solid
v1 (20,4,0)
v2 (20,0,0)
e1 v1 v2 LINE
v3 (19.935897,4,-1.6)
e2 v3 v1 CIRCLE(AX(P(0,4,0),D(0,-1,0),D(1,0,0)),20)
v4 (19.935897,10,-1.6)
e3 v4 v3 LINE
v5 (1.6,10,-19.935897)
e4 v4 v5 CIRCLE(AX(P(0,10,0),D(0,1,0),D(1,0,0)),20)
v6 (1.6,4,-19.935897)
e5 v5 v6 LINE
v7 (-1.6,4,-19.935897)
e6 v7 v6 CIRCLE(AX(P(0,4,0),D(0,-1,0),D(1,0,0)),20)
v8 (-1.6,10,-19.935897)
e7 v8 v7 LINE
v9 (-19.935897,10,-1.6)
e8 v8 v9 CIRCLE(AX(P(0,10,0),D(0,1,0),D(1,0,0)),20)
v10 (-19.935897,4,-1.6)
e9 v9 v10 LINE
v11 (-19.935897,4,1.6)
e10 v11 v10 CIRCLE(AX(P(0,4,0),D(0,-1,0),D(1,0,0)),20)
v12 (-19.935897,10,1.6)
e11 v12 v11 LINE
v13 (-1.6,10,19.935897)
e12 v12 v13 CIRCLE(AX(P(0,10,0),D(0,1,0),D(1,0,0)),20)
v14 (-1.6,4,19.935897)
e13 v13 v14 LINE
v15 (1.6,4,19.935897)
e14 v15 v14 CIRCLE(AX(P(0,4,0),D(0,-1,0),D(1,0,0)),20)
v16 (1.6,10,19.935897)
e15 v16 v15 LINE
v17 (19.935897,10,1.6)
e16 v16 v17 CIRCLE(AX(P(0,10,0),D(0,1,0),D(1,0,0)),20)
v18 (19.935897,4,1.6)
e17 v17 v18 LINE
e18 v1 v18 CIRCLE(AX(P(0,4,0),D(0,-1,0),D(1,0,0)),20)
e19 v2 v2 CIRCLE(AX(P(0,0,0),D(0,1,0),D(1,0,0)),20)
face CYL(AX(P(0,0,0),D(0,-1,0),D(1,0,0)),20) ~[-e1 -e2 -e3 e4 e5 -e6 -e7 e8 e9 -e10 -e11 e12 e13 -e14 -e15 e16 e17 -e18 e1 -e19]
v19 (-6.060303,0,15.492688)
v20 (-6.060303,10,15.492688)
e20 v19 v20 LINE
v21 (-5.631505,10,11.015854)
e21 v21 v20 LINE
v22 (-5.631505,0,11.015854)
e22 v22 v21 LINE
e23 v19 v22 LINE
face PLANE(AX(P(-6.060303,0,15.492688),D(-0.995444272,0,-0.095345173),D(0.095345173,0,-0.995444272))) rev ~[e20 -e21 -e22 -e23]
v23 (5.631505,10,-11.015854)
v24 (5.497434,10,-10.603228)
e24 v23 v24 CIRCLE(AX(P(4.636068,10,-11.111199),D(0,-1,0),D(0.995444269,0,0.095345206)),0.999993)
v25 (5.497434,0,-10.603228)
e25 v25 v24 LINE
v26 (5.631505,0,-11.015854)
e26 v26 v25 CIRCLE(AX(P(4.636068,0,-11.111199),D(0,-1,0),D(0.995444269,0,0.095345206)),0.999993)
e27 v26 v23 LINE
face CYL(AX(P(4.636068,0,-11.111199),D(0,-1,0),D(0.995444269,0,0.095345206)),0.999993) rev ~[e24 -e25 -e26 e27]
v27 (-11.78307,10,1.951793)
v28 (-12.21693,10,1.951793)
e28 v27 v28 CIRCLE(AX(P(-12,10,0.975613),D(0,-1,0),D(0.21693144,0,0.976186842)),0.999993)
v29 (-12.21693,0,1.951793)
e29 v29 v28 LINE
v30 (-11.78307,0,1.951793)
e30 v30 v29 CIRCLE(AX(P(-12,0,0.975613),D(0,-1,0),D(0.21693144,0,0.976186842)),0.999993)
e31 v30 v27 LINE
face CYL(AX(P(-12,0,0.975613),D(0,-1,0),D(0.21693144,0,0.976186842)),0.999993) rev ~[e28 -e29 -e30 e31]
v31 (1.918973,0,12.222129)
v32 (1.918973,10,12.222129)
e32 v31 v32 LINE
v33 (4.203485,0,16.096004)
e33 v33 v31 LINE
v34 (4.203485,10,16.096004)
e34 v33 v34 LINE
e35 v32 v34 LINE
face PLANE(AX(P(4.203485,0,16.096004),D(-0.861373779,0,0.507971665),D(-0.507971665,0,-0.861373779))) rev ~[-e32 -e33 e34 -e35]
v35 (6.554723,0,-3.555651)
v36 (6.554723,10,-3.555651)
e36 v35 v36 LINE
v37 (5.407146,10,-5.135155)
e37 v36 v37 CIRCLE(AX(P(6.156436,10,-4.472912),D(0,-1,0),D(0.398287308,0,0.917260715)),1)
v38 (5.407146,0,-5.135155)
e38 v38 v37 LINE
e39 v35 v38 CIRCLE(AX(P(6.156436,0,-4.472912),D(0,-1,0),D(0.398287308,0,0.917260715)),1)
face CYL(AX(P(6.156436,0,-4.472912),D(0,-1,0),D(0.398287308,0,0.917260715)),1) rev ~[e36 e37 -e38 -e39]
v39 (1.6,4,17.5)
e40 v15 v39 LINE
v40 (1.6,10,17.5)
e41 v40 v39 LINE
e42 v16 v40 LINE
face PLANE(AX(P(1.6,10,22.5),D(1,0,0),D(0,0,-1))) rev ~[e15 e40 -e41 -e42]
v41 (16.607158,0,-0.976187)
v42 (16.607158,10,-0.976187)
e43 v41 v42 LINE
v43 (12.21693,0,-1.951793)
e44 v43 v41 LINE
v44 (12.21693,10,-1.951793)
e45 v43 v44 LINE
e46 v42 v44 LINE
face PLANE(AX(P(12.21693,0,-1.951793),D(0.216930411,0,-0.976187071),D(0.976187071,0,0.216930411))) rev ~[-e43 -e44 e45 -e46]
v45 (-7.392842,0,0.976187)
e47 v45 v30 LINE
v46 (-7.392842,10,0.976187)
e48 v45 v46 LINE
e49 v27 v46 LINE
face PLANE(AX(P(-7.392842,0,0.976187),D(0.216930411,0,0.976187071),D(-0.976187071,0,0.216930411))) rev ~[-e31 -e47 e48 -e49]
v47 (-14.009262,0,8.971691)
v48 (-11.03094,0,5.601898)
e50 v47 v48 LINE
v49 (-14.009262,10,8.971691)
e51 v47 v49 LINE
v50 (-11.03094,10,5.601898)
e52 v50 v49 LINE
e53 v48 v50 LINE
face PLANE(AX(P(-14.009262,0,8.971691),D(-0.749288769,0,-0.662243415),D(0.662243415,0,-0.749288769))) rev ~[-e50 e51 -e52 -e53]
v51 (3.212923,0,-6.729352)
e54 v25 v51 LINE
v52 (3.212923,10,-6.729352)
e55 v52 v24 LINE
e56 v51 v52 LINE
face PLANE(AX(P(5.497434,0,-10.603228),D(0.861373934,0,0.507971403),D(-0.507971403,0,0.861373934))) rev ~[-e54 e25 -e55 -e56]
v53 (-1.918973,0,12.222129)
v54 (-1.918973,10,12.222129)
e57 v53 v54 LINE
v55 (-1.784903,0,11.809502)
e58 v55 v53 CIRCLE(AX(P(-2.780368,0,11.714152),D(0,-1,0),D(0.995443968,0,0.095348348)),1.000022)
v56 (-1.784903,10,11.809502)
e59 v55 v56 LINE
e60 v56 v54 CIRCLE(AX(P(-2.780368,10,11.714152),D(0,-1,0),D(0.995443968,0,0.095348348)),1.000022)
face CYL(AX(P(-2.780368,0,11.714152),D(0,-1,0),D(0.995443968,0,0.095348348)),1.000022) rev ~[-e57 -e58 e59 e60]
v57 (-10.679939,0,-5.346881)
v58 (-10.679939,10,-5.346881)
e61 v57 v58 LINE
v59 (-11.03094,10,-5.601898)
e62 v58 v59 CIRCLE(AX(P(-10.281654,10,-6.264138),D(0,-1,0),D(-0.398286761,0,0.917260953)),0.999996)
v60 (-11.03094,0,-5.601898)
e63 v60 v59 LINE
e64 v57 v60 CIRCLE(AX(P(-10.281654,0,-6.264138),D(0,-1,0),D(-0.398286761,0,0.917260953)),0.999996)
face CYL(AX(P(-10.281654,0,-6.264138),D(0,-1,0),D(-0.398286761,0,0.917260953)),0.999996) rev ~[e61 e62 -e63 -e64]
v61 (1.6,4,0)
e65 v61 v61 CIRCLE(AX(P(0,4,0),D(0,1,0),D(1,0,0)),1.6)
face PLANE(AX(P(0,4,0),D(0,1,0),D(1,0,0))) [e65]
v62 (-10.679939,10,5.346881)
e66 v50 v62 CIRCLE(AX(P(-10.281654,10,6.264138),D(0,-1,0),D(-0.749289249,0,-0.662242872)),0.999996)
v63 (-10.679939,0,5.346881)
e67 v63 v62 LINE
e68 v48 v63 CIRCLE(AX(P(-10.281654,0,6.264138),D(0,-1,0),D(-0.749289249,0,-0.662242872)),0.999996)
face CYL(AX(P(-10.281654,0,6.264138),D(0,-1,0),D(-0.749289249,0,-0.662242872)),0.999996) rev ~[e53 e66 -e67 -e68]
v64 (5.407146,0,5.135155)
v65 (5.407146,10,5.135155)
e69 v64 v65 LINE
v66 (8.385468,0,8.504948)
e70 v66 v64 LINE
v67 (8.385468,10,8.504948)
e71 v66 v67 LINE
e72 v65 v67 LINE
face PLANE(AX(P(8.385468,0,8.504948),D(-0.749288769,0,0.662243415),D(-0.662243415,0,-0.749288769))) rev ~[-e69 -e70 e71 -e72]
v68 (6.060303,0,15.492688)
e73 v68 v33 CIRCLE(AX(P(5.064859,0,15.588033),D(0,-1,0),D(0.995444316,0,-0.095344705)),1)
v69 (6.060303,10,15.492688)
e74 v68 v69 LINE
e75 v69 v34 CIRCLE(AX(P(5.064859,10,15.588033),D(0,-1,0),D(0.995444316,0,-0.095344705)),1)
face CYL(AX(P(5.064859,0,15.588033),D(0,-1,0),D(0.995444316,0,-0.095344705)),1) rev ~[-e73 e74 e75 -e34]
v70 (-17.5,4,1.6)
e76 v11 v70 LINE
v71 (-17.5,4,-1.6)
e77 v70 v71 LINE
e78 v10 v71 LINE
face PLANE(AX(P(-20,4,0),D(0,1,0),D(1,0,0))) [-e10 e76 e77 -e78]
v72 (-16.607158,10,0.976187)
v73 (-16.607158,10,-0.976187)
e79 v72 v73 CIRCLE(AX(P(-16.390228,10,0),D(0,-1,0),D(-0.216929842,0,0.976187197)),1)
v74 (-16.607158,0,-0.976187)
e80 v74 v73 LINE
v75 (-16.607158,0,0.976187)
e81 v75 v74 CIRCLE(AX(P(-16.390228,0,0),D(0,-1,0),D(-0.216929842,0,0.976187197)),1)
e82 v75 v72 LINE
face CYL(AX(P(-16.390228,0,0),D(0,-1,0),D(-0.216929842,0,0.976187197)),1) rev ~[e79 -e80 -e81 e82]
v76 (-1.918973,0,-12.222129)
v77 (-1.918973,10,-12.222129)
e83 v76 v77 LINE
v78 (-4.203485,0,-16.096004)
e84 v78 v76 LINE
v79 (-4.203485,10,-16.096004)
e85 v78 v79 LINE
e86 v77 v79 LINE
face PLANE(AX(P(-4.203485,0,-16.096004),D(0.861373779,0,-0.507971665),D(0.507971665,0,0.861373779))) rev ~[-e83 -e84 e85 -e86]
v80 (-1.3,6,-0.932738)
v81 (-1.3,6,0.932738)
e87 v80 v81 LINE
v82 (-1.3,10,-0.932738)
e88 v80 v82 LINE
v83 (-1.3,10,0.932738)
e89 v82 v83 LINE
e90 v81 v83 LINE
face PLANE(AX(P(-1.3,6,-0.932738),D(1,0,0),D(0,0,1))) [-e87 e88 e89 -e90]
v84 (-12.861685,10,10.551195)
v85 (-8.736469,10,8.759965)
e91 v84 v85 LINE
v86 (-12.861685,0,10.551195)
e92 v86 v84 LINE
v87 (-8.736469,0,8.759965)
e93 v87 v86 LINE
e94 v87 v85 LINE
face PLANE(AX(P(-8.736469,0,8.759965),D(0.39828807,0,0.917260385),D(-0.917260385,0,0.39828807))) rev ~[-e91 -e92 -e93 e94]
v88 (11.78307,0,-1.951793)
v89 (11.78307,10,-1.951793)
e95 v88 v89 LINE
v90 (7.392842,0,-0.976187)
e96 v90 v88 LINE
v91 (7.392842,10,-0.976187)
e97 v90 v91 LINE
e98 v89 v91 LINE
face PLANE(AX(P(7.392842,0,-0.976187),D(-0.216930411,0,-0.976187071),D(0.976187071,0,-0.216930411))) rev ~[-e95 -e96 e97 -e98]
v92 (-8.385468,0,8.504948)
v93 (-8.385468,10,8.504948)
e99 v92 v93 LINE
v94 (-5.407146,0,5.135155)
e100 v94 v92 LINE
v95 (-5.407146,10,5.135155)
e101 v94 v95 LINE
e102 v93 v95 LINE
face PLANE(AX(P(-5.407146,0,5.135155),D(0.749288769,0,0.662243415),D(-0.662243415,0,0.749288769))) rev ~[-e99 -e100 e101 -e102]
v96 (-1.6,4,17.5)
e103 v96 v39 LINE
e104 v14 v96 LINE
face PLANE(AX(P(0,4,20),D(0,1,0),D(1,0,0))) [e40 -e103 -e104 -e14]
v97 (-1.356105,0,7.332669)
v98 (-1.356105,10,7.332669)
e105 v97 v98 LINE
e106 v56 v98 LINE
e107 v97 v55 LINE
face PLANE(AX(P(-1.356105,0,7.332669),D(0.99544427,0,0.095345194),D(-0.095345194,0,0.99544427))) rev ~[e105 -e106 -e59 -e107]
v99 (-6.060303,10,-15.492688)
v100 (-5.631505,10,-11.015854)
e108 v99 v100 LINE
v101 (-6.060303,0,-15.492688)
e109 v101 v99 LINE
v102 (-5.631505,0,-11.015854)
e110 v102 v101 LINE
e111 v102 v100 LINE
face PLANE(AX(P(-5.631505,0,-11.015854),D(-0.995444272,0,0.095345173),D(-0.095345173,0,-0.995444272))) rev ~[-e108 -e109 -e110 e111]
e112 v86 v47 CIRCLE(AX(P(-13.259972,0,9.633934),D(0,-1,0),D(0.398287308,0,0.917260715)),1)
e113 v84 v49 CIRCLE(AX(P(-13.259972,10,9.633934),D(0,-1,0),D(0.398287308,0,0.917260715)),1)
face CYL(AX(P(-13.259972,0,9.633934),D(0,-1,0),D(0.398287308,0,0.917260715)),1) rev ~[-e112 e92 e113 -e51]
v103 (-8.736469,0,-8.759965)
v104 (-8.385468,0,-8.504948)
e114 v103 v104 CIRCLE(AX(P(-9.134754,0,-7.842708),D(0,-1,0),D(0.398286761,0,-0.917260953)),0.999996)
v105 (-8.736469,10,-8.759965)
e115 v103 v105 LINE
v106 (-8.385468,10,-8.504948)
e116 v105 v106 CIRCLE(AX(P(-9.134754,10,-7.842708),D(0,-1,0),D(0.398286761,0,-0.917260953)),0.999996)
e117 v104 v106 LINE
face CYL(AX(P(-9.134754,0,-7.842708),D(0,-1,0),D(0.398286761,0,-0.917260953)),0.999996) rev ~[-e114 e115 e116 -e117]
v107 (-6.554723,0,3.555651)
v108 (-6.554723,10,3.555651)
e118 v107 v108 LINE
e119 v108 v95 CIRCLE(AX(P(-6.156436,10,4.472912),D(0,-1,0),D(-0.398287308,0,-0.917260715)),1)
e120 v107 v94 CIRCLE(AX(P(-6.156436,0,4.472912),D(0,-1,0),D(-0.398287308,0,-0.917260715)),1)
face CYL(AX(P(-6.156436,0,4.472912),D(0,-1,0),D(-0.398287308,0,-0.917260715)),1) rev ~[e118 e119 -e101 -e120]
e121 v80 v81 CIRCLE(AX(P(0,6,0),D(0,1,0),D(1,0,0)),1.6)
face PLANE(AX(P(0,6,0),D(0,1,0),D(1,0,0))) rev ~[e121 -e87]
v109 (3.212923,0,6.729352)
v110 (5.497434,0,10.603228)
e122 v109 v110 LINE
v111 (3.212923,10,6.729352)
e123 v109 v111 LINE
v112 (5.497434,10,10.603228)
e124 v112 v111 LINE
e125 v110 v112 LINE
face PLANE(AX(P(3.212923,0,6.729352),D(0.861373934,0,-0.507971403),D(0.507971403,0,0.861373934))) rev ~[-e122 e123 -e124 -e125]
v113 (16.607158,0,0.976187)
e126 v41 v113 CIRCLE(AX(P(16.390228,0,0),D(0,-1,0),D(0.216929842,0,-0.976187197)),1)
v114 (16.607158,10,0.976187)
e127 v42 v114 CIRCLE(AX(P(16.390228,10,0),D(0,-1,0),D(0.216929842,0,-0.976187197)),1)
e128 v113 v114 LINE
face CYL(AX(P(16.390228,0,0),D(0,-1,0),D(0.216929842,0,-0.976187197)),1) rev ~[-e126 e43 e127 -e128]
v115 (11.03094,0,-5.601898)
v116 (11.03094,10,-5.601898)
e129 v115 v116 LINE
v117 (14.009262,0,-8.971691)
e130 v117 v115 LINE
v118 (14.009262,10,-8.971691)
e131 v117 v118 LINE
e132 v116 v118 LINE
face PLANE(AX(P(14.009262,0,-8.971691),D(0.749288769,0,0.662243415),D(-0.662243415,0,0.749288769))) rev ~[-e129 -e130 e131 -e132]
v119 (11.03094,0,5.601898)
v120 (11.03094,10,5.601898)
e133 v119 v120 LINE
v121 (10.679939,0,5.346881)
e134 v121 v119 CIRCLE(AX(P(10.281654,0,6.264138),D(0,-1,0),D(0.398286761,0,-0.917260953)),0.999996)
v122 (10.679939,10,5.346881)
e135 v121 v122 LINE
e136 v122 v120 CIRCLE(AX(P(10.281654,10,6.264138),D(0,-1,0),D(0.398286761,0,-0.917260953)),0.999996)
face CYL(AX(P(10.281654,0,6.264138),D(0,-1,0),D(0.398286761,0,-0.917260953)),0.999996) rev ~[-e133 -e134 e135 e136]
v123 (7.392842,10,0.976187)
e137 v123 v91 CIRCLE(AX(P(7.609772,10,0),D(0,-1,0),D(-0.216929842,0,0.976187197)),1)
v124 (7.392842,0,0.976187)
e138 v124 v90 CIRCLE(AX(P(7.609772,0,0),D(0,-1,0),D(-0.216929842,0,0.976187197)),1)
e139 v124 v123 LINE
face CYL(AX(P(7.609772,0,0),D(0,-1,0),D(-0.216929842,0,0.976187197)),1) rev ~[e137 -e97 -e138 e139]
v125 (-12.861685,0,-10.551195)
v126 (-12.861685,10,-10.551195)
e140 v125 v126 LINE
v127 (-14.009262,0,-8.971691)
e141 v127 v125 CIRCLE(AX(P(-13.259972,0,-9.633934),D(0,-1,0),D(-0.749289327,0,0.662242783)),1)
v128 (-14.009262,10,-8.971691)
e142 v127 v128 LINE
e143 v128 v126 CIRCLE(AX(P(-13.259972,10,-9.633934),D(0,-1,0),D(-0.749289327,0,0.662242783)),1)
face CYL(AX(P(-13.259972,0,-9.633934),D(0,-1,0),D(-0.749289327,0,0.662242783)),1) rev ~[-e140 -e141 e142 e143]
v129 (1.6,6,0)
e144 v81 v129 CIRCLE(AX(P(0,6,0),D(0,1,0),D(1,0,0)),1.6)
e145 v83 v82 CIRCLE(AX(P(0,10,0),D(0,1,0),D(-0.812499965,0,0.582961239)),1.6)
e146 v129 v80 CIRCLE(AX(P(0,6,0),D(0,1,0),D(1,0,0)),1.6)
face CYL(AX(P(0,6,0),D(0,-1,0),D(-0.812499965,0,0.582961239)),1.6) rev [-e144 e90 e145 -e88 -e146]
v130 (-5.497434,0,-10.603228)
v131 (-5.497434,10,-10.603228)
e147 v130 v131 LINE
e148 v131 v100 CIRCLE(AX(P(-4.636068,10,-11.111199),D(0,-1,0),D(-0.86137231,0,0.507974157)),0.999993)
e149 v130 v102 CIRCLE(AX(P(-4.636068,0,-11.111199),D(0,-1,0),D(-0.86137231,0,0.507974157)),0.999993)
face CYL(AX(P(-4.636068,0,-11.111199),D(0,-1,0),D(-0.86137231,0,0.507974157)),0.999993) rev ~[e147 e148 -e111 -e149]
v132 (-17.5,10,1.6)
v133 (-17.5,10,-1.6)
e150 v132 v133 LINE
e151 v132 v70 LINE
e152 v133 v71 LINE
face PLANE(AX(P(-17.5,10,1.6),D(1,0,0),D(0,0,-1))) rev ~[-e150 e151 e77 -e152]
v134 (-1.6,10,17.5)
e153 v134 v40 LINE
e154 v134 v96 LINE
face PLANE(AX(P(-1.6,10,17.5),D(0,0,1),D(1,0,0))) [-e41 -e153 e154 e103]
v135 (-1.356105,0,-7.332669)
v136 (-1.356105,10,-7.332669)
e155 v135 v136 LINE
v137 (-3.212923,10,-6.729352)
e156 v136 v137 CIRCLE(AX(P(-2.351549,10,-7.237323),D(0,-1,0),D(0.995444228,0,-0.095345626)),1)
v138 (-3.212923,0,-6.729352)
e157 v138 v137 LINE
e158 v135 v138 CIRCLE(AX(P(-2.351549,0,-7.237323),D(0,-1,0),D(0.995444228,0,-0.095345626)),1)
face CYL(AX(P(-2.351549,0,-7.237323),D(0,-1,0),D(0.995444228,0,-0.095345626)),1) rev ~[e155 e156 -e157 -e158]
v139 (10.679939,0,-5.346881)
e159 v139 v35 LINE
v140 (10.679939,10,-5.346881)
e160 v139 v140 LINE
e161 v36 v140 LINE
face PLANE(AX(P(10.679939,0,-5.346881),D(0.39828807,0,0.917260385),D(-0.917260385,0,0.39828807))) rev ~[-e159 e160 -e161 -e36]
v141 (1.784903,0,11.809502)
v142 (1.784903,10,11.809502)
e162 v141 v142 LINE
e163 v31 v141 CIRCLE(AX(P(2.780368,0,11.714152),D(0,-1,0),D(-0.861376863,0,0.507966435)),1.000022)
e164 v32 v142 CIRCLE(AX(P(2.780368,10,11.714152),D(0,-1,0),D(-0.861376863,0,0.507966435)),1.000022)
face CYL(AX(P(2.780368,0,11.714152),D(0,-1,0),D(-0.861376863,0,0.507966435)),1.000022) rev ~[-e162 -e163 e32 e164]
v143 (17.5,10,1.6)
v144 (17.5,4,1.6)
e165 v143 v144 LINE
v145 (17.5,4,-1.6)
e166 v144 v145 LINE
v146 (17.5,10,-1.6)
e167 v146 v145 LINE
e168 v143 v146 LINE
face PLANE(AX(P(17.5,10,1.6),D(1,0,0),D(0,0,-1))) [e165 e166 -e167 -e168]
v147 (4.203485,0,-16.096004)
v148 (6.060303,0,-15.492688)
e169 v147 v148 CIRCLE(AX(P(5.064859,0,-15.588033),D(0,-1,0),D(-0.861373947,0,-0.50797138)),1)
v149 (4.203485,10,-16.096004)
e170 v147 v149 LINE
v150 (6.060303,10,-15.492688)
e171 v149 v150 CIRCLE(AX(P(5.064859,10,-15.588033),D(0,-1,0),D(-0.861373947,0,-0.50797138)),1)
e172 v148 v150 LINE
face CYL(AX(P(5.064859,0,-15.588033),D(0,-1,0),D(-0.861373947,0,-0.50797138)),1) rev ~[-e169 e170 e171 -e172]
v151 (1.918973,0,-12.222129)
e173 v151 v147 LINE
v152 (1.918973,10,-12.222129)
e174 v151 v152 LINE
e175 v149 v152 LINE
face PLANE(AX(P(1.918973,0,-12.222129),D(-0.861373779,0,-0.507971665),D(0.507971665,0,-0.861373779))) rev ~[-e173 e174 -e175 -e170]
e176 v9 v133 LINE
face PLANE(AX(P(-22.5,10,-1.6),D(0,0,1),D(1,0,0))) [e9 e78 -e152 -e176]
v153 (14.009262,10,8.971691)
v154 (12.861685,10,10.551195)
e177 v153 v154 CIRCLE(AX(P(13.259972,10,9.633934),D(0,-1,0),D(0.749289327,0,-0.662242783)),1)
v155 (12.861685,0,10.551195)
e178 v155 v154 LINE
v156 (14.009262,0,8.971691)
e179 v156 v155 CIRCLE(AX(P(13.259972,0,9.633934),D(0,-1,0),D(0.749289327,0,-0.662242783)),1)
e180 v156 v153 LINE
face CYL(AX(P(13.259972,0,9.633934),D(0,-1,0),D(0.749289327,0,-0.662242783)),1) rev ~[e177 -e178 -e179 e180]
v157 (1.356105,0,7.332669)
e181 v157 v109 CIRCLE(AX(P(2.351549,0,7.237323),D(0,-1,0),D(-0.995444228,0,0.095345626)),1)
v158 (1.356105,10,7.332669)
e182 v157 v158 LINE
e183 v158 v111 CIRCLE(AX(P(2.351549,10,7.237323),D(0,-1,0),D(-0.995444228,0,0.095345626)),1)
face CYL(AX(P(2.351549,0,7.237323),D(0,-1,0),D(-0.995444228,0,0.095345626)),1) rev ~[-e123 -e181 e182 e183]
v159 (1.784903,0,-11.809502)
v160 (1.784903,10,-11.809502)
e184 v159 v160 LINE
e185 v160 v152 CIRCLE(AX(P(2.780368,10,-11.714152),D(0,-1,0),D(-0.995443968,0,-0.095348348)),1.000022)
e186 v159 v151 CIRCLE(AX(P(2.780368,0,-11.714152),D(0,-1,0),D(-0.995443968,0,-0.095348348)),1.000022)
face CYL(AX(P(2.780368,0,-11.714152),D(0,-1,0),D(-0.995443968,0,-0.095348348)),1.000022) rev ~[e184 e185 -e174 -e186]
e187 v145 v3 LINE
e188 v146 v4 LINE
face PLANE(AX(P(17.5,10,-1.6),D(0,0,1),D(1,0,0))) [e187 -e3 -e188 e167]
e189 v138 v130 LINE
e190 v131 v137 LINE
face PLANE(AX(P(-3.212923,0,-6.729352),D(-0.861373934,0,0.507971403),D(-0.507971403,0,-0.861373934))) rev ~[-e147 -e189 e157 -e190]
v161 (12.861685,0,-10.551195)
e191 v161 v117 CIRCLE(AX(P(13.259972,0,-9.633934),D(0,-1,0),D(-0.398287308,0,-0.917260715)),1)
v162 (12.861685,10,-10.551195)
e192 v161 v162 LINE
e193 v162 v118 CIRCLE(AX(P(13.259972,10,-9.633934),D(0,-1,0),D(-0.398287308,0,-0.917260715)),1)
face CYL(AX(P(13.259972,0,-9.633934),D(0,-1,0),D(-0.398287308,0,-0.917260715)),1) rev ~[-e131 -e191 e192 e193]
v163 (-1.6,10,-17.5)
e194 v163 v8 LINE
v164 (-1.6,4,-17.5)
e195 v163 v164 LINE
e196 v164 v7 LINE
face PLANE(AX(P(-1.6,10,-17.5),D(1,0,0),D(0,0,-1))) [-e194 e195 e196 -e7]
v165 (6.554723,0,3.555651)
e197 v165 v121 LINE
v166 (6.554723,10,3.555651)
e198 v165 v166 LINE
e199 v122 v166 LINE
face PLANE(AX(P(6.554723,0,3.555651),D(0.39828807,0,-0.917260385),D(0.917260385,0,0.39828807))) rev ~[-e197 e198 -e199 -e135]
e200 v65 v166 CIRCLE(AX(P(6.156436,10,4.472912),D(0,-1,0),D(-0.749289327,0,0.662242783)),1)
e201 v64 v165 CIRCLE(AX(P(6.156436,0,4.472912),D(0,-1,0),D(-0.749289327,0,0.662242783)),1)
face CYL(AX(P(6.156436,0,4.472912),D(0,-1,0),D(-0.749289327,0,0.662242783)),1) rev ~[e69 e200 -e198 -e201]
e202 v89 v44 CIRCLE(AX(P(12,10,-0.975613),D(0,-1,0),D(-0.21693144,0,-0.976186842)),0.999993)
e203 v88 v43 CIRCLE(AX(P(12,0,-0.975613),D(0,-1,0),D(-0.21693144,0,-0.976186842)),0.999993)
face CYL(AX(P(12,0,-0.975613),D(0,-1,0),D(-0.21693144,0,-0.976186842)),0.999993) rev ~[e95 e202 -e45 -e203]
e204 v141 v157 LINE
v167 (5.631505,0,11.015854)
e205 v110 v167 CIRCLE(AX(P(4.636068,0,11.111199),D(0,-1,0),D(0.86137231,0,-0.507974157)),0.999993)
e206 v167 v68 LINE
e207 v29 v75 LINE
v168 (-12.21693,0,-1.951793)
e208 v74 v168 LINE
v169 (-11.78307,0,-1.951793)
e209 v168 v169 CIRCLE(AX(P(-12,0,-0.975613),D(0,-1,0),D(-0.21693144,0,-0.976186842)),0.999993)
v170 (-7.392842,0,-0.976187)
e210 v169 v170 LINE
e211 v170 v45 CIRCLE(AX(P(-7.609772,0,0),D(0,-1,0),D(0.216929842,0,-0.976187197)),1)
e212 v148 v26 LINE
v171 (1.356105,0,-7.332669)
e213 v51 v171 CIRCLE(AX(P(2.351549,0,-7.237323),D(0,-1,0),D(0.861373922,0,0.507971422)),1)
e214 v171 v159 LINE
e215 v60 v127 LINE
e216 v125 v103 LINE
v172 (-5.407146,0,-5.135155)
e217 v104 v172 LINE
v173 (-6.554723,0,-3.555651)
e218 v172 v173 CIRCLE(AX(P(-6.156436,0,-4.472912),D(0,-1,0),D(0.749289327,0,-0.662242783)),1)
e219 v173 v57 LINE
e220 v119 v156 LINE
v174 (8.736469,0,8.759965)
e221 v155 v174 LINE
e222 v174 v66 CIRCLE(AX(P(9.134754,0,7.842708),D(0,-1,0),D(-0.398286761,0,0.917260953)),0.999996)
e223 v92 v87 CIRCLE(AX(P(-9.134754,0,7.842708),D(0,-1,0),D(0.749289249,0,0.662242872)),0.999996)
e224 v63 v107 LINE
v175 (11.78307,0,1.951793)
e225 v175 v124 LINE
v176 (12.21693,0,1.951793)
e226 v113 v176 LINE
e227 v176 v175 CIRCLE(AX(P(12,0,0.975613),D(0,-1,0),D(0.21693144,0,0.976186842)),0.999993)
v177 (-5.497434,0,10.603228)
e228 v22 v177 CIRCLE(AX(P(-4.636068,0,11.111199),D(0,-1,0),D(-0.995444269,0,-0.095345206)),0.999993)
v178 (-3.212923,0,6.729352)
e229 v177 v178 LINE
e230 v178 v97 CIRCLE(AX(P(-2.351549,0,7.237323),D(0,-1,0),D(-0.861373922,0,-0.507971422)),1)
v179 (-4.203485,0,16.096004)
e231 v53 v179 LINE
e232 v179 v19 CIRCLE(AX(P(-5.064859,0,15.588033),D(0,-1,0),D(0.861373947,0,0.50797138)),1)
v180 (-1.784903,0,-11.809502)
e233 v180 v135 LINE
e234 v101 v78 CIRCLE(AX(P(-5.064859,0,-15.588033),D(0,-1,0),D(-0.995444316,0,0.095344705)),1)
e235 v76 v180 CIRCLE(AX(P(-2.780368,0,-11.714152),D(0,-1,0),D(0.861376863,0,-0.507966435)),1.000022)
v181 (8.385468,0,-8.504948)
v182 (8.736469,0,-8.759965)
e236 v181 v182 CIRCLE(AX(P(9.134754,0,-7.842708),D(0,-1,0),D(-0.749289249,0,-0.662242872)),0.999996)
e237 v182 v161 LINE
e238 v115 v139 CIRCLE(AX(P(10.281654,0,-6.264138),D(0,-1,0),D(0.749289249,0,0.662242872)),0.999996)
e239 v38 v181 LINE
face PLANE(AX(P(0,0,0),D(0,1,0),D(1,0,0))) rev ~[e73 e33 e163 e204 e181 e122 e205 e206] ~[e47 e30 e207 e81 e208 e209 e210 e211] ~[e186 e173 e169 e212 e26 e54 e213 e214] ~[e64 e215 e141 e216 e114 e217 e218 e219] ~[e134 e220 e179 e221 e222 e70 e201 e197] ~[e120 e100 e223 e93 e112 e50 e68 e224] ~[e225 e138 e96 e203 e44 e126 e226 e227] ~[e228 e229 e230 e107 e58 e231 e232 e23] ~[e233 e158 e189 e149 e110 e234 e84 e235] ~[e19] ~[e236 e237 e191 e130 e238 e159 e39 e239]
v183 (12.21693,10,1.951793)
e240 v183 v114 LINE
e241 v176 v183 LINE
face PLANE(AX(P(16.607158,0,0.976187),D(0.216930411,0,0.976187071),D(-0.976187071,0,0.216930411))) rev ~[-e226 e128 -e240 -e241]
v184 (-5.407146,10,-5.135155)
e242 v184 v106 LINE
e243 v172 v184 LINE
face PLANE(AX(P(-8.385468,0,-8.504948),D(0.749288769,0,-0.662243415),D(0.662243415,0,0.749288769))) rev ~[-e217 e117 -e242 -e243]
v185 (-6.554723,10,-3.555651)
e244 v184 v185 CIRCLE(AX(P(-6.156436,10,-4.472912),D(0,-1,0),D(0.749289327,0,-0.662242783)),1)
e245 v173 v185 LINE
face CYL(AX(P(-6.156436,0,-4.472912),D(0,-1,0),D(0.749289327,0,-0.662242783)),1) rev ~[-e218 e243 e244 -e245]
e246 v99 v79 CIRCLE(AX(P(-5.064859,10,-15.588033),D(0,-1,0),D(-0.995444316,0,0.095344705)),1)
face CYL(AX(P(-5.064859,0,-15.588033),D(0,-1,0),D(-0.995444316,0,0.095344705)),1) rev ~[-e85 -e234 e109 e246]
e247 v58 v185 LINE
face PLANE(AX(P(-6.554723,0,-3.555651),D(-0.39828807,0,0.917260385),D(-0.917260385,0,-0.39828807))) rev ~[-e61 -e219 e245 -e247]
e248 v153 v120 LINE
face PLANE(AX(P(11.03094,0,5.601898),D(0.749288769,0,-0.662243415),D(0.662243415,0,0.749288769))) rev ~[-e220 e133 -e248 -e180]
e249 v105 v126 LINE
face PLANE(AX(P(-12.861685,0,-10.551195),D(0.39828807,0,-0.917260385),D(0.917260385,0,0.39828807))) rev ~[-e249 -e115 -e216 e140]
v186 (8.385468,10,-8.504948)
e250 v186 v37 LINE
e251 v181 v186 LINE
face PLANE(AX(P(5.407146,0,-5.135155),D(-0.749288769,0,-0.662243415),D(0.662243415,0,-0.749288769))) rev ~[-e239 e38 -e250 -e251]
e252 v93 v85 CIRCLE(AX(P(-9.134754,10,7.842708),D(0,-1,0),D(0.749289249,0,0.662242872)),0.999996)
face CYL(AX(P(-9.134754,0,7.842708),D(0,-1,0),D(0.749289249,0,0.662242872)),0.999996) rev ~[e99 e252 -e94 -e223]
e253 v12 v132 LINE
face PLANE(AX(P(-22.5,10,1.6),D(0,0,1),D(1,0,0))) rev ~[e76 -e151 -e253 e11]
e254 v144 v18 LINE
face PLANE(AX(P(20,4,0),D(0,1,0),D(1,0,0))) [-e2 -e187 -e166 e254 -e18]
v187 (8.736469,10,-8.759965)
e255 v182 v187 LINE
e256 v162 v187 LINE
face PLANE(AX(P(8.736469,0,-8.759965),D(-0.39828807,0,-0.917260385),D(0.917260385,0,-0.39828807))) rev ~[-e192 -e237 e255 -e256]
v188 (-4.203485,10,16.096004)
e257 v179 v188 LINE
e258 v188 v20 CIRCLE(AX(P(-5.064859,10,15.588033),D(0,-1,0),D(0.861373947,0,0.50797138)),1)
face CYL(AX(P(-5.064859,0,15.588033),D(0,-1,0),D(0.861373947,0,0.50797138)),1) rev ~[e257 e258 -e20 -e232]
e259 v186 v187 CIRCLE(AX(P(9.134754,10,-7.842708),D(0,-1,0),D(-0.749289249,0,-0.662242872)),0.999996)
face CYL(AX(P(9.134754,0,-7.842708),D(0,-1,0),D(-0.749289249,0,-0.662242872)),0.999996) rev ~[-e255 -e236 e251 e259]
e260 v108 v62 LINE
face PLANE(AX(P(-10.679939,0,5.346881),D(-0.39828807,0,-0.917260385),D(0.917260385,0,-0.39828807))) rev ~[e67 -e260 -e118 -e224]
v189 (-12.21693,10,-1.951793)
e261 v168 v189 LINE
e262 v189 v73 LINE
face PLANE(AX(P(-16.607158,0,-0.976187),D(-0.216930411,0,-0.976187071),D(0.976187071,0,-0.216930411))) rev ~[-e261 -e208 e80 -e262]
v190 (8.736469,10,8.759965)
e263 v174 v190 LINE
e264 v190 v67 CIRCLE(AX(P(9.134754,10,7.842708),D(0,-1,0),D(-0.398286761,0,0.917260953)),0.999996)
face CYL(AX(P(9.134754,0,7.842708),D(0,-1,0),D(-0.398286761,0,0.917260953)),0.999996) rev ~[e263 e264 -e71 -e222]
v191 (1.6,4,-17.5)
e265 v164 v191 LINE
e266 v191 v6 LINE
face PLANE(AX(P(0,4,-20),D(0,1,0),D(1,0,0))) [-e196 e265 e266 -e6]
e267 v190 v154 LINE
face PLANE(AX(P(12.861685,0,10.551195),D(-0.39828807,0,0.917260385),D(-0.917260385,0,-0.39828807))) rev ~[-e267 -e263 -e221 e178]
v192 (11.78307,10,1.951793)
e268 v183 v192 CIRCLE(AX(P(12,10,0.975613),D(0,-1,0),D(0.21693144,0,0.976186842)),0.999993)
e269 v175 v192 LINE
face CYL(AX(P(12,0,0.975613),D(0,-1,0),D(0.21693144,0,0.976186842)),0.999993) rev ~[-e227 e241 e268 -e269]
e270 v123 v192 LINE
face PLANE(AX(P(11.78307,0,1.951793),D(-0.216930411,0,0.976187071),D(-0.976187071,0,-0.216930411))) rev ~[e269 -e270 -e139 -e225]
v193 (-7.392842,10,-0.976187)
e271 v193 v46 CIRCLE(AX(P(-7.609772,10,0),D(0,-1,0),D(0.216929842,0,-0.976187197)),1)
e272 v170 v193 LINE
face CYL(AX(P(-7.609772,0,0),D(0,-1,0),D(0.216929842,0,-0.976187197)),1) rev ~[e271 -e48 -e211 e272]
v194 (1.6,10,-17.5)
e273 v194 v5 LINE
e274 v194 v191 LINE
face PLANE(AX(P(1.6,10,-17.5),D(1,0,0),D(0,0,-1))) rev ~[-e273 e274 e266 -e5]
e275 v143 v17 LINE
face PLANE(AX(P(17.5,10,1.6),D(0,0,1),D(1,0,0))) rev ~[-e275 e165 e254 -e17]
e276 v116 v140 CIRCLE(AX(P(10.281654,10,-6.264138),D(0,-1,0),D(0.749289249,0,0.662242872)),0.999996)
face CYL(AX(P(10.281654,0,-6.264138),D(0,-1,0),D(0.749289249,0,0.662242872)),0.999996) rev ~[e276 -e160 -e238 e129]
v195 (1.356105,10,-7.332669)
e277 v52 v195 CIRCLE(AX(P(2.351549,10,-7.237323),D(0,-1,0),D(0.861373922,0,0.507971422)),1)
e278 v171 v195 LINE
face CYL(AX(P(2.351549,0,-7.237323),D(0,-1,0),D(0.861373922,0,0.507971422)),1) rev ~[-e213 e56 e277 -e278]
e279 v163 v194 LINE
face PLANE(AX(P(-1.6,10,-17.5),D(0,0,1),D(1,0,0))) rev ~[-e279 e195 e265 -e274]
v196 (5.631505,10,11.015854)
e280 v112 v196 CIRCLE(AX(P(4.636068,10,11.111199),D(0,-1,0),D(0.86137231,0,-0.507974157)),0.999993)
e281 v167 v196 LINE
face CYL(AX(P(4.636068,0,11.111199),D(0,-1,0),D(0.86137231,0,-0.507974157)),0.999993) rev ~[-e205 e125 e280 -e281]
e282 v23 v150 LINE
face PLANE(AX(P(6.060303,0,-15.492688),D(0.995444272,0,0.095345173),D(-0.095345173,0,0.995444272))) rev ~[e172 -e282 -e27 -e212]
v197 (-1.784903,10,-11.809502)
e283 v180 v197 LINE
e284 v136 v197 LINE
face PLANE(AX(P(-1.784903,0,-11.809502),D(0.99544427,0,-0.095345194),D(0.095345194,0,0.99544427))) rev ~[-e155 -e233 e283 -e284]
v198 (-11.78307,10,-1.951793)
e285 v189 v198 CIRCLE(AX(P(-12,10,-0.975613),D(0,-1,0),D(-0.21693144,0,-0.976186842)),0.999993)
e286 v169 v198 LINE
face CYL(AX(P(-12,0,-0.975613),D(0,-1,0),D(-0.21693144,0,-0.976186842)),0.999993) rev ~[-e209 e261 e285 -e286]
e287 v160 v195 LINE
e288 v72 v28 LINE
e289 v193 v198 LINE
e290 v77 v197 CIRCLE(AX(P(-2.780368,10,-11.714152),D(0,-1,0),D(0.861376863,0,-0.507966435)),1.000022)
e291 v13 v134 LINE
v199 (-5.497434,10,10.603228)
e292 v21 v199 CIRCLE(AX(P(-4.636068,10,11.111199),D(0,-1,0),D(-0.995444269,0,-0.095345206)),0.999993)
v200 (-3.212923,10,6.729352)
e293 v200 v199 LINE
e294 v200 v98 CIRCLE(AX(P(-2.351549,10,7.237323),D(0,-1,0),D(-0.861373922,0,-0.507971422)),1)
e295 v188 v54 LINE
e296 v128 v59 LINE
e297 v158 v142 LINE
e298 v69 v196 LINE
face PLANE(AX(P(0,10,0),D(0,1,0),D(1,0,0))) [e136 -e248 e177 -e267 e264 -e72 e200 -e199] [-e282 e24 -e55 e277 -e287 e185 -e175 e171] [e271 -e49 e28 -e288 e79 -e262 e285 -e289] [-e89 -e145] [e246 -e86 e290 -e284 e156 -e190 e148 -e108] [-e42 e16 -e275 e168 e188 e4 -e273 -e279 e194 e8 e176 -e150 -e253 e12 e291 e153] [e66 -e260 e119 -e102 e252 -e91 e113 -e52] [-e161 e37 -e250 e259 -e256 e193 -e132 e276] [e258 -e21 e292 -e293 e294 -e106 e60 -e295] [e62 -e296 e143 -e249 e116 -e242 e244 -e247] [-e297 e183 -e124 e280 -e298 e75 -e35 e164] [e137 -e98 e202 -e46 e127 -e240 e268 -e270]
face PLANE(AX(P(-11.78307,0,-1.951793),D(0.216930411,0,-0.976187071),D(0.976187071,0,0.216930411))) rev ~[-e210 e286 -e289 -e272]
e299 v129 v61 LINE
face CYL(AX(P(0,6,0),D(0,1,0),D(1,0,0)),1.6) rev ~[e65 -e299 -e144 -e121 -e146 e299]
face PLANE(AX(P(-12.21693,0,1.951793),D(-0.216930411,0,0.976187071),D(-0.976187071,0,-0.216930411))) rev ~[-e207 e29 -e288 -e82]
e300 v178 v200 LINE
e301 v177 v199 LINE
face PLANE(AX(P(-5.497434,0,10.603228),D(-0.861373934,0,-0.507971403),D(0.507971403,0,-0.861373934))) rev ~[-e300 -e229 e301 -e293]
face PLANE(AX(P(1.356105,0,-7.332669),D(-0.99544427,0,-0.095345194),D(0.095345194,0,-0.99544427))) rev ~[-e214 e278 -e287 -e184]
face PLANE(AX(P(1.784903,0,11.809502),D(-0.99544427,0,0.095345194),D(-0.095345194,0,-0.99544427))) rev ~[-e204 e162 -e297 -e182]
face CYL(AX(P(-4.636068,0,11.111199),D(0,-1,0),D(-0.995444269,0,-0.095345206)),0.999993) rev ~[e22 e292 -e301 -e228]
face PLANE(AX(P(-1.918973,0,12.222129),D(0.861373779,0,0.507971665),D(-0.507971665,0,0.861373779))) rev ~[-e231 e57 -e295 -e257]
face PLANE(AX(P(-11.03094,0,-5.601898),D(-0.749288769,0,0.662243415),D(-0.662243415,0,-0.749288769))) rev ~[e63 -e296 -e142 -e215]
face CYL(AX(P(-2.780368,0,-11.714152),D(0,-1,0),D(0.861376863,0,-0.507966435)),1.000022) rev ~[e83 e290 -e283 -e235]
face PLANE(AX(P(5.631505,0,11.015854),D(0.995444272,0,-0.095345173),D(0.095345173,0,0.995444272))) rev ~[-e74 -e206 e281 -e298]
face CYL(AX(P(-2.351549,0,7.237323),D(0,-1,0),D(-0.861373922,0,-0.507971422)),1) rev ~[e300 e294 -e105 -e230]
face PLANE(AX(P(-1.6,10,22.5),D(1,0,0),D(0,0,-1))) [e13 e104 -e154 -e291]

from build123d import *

# Parameters (mm, degrees)
SKETCH_1_R               = 20
SKETCH_1_R_2             = 4
EXTRUDE_1_DEPTH          = 10
SKETCH_4_R               = 20
EXTRUDE_2_DEPTH          = 6
SKETCH_5_R               = 1.6
CUT_EXTRUDE_2_DEPTH      = 5
CUT_EXTRUDE_2_DEPTH_BACK = 7
CUT_EXTRUDE_3_DEPTH      = 1
CUT_EXTRUDE_3_DEPTH_BACK = 11
SKETCH_8_W               = 3.2
SKETCH_8_H               = 5
SKETCH_8_W_2             = 5
SKETCH_8_H_2             = 3.2
CUT_EXTRUDE_4_DEPTH      = 6
SKETCH_9_R               = 3
CUT_EXTRUDE_5_DEPTH      = 2
SKETCH_11_R              = 4
EXTRUDE_3_DEPTH          = 4
SKETCH_12_R              = 3
EXTRUDE_4_DEPTH          = 2
SKETCH_13_R              = 1.6
EXTRUDE_5_DEPTH          = 2


with BuildPart() as part:
    # Эскиз1 → Бобышка-Вытянуть1 (new body)
    with BuildSketch(Plane(origin=(0, 0, 0), x_dir=(1, 0, 0), z_dir=(0, 1, 0))):
        Circle(SKETCH_1_R)
        Circle(SKETCH_1_R_2, mode=Mode.SUBTRACT)
    extrude(amount=EXTRUDE_1_DEPTH)

    # Эскиз4 → Бобышка-Вытянуть2 (add)
    with BuildSketch(Plane.XZ):
        Circle(SKETCH_4_R)
    extrude(amount=-EXTRUDE_2_DEPTH)

    # Эскиз5 → Вырез-Вытянуть2 (cut, two sides)
    with BuildSketch(Plane(origin=(0, 6, 0), x_dir=(1, 0, 0), z_dir=(0, 1, 0))) as cut_extrude_2_sk:
        Circle(SKETCH_5_R)
    extrude(amount=CUT_EXTRUDE_2_DEPTH, mode=Mode.SUBTRACT)
    extrude(cut_extrude_2_sk.sketch, amount=-CUT_EXTRUDE_2_DEPTH_BACK, mode=Mode.SUBTRACT)

    # Эскиз6 → Вырез-Вытянуть3 (cut, two sides)
    with BuildSketch(Plane.XZ) as cut_extrude_3_sk:
        with BuildLine():
            Line((-7.392842, 0.976187), (-11.78307, 1.951793))
            ThreePointArc((-11.78307, 1.951793), (-12, 1.975606), (-12.21693, 1.951793))
            Line((-12.21693, 1.951793), (-16.607158, 0.976187))
            ThreePointArc((-16.607158, 0.976187), (-17.390228, 0), (-16.607158, -0.976187))
            Line((-16.607158, -0.976187), (-12.21693, -1.951793))
            ThreePointArc((-12.21693, -1.951793), (-12, -1.975606), (-11.78307, -1.951793))
            Line((-11.78307, -1.951793), (-7.392842, -0.976187))
            ThreePointArc((-7.392842, -0.976187), (-6.609772, 0), (-7.392842, 0.976187))
        make_face()
        with BuildLine():
            Line((-5.407146, 5.135155), (-8.385468, 8.504948))
            ThreePointArc((-8.385468, 8.504948), (-8.546972, 8.651722), (-8.736469, 8.759965))
            Line((-8.736469, 8.759965), (-12.861685, 10.551195))
            ThreePointArc((-12.861685, 10.551195), (-14.06899, 10.221719), (-14.009262, 8.971691))
            Line((-14.009262, 8.971691), (-11.03094, 5.601898))
            ThreePointArc((-11.03094, 5.601898), (-10.869436, 5.455124), (-10.679939, 5.346881))
            Line((-10.679939, 5.346881), (-6.554723, 3.555651))
            ThreePointArc((-6.554723, 3.555651), (-5.347418, 3.885127), (-5.407146, 5.135155))
        make_face()
        with BuildLine():
            Line((-1.356105, 7.332669), (-1.784903, 11.809502))
            ThreePointArc((-1.784903, 11.809502), (-1.829291, 12.023174), (-1.918973, 12.222129))
            Line((-1.918973, 12.222129), (-4.203485, 16.096004))
            ThreePointArc((-4.203485, 16.096004), (-5.373876, 16.539089), (-6.060303, 15.492688))
            Line((-6.060303, 15.492688), (-5.631505, 11.015854))
            ThreePointArc((-5.631505, 11.015854), (-5.587117, 10.802182), (-5.497434, 10.603228))
            Line((-5.497434, 10.603228), (-3.212923, 6.729352))
            ThreePointArc((-3.212923, 6.729352), (-2.042532, 6.286267), (-1.356105, 7.332669))
        make_face()
        with BuildLine():
            Line((3.212923, 6.729352), (5.497434, 10.603228))
            ThreePointArc((5.497434, 10.603228), (5.587117, 10.802182), (5.631505, 11.015854))
            Line((5.631505, 11.015854), (6.060303, 15.492688))
            ThreePointArc((6.060303, 15.492688), (5.373876, 16.539089), (4.203485, 16.096004))
            Line((4.203485, 16.096004), (1.918973, 12.222129))
            ThreePointArc((1.918973, 12.222129), (1.829291, 12.023174), (1.784903, 11.809502))
            Line((1.784903, 11.809502), (1.356105, 7.332669))
            ThreePointArc((1.356105, 7.332669), (2.042532, 6.286267), (3.212923, 6.729352))
        make_face()
        with BuildLine():
            Line((6.554723, 3.555651), (10.679939, 5.346881))
            ThreePointArc((10.679939, 5.346881), (10.869436, 5.455124), (11.03094, 5.601898))
            Line((11.03094, 5.601898), (14.009262, 8.971691))
            ThreePointArc((14.009262, 8.971691), (14.06899, 10.221719), (12.861685, 10.551195))
            Line((12.861685, 10.551195), (8.736469, 8.759965))
            ThreePointArc((8.736469, 8.759965), (8.546972, 8.651722), (8.385468, 8.504948))
            Line((8.385468, 8.504948), (5.407146, 5.135155))
            ThreePointArc((5.407146, 5.135155), (5.347418, 3.885127), (6.554723, 3.555651))
        make_face()
        with BuildLine():
            Line((7.392842, -0.976187), (11.78307, -1.951793))
            ThreePointArc((11.78307, -1.951793), (12, -1.975606), (12.21693, -1.951793))
            Line((12.21693, -1.951793), (16.607158, -0.976187))
            ThreePointArc((16.607158, -0.976187), (17.390228, 0), (16.607158, 0.976187))
            Line((16.607158, 0.976187), (12.21693, 1.951793))
            ThreePointArc((12.21693, 1.951793), (12, 1.975606), (11.78307, 1.951793))
            Line((11.78307, 1.951793), (7.392842, 0.976187))
            ThreePointArc((7.392842, 0.976187), (6.609772, 0), (7.392842, -0.976187))
        make_face()
        with BuildLine():
            Line((5.407146, -5.135155), (8.385468, -8.504948))
            ThreePointArc((8.385468, -8.504948), (8.546972, -8.651722), (8.736469, -8.759965))
            Line((8.736469, -8.759965), (12.861685, -10.551195))
            ThreePointArc((12.861685, -10.551195), (14.06899, -10.221719), (14.009262, -8.971691))
            Line((14.009262, -8.971691), (11.03094, -5.601898))
            ThreePointArc((11.03094, -5.601898), (10.869436, -5.455124), (10.679939, -5.346881))
            Line((10.679939, -5.346881), (6.554723, -3.555651))
            ThreePointArc((6.554723, -3.555651), (5.347418, -3.885127), (5.407146, -5.135155))
        make_face()
        with BuildLine():
            Line((1.356105, -7.332669), (1.784903, -11.809502))
            ThreePointArc((1.784903, -11.809502), (1.829291, -12.023174), (1.918973, -12.222129))
            Line((1.918973, -12.222129), (4.203485, -16.096004))
            ThreePointArc((4.203485, -16.096004), (5.373876, -16.539089), (6.060303, -15.492688))
            Line((6.060303, -15.492688), (5.631505, -11.015854))
            ThreePointArc((5.631505, -11.015854), (5.587117, -10.802182), (5.497434, -10.603228))
            Line((5.497434, -10.603228), (3.212923, -6.729352))
            ThreePointArc((3.212923, -6.729352), (2.042532, -6.286267), (1.356105, -7.332669))
        make_face()
        with BuildLine():
            Line((-3.212923, -6.729352), (-5.497434, -10.603228))
            ThreePointArc((-5.497434, -10.603228), (-5.587117, -10.802182), (-5.631505, -11.015854))
            Line((-5.631505, -11.015854), (-6.060303, -15.492688))
            ThreePointArc((-6.060303, -15.492688), (-5.373876, -16.539089), (-4.203485, -16.096004))
            Line((-4.203485, -16.096004), (-1.918973, -12.222129))
            ThreePointArc((-1.918973, -12.222129), (-1.829291, -12.023174), (-1.784903, -11.809502))
            Line((-1.784903, -11.809502), (-1.356105, -7.332669))
            ThreePointArc((-1.356105, -7.332669), (-2.042532, -6.286267), (-3.212923, -6.729352))
        make_face()
        with BuildLine():
            Line((-6.554723, -3.555651), (-10.679939, -5.346881))
            ThreePointArc((-10.679939, -5.346881), (-10.869436, -5.455124), (-11.03094, -5.601898))
            Line((-11.03094, -5.601898), (-14.009262, -8.971691))
            ThreePointArc((-14.009262, -8.971691), (-14.06899, -10.221719), (-12.861685, -10.551195))
            Line((-12.861685, -10.551195), (-8.736469, -8.759965))
            ThreePointArc((-8.736469, -8.759965), (-8.546972, -8.651722), (-8.385468, -8.504948))
            Line((-8.385468, -8.504948), (-5.407146, -5.135155))
            ThreePointArc((-5.407146, -5.135155), (-5.347418, -3.885127), (-6.554723, -3.555651))
        make_face()
    extrude(amount=CUT_EXTRUDE_3_DEPTH, mode=Mode.SUBTRACT)
    extrude(cut_extrude_3_sk.sketch, amount=-CUT_EXTRUDE_3_DEPTH_BACK, mode=Mode.SUBTRACT)

    # Эскиз8 → Вырез-Вытянуть4 (cut)
    with BuildSketch(Plane(origin=(0, 10, 0), x_dir=(1, 0, 0), z_dir=(0, 1, 0))):
        with Locations((0, 20)):
            Rectangle(SKETCH_8_W, SKETCH_8_H)
        with Locations((-20, 0)):
            Rectangle(SKETCH_8_W_2, SKETCH_8_H_2)
        with Locations((20, 0)):
            Rectangle(SKETCH_8_W_2, SKETCH_8_H_2)
        with Locations((0, -20)):
            Rectangle(SKETCH_8_W, SKETCH_8_H)
    extrude(amount=-CUT_EXTRUDE_4_DEPTH, mode=Mode.SUBTRACT)

    # Эскиз9 → Вырез-Вытянуть5 (cut)
    with BuildSketch(Plane.XZ):
        Circle(SKETCH_9_R)
    extrude(amount=-CUT_EXTRUDE_5_DEPTH, mode=Mode.SUBTRACT)

    # Эскиз11 → Бобышка-Вытянуть3 (add)
    with BuildSketch(Plane(origin=(0, 6, 0), x_dir=(1, 0, 0), z_dir=(0, 1, 0))):
        Circle(SKETCH_11_R)
        with BuildLine():
            Line((-1.3, 0.932738), (-1.3, -0.932738))
            ThreePointArc((-1.3, -0.932738), (1.6, 0), (-1.3, 0.932738))
        make_face(mode=Mode.SUBTRACT)
    extrude(amount=EXTRUDE_3_DEPTH)

    # Эскиз12 → Бобышка-Вытянуть4 (add)
    with BuildSketch(Plane.XZ.offset(-2)):
        Circle(SKETCH_12_R)
    extrude(amount=EXTRUDE_4_DEPTH)

    # Эскиз13 → Бобышка-Вытянуть5 (add)
    with BuildSketch(Plane(origin=(0, 2, 0), x_dir=(1, 0, 0), z_dir=(0, 1, 0))):
        Circle(SKETCH_13_R)
    extrude(amount=EXTRUDE_5_DEPTH)


solid = part.part
